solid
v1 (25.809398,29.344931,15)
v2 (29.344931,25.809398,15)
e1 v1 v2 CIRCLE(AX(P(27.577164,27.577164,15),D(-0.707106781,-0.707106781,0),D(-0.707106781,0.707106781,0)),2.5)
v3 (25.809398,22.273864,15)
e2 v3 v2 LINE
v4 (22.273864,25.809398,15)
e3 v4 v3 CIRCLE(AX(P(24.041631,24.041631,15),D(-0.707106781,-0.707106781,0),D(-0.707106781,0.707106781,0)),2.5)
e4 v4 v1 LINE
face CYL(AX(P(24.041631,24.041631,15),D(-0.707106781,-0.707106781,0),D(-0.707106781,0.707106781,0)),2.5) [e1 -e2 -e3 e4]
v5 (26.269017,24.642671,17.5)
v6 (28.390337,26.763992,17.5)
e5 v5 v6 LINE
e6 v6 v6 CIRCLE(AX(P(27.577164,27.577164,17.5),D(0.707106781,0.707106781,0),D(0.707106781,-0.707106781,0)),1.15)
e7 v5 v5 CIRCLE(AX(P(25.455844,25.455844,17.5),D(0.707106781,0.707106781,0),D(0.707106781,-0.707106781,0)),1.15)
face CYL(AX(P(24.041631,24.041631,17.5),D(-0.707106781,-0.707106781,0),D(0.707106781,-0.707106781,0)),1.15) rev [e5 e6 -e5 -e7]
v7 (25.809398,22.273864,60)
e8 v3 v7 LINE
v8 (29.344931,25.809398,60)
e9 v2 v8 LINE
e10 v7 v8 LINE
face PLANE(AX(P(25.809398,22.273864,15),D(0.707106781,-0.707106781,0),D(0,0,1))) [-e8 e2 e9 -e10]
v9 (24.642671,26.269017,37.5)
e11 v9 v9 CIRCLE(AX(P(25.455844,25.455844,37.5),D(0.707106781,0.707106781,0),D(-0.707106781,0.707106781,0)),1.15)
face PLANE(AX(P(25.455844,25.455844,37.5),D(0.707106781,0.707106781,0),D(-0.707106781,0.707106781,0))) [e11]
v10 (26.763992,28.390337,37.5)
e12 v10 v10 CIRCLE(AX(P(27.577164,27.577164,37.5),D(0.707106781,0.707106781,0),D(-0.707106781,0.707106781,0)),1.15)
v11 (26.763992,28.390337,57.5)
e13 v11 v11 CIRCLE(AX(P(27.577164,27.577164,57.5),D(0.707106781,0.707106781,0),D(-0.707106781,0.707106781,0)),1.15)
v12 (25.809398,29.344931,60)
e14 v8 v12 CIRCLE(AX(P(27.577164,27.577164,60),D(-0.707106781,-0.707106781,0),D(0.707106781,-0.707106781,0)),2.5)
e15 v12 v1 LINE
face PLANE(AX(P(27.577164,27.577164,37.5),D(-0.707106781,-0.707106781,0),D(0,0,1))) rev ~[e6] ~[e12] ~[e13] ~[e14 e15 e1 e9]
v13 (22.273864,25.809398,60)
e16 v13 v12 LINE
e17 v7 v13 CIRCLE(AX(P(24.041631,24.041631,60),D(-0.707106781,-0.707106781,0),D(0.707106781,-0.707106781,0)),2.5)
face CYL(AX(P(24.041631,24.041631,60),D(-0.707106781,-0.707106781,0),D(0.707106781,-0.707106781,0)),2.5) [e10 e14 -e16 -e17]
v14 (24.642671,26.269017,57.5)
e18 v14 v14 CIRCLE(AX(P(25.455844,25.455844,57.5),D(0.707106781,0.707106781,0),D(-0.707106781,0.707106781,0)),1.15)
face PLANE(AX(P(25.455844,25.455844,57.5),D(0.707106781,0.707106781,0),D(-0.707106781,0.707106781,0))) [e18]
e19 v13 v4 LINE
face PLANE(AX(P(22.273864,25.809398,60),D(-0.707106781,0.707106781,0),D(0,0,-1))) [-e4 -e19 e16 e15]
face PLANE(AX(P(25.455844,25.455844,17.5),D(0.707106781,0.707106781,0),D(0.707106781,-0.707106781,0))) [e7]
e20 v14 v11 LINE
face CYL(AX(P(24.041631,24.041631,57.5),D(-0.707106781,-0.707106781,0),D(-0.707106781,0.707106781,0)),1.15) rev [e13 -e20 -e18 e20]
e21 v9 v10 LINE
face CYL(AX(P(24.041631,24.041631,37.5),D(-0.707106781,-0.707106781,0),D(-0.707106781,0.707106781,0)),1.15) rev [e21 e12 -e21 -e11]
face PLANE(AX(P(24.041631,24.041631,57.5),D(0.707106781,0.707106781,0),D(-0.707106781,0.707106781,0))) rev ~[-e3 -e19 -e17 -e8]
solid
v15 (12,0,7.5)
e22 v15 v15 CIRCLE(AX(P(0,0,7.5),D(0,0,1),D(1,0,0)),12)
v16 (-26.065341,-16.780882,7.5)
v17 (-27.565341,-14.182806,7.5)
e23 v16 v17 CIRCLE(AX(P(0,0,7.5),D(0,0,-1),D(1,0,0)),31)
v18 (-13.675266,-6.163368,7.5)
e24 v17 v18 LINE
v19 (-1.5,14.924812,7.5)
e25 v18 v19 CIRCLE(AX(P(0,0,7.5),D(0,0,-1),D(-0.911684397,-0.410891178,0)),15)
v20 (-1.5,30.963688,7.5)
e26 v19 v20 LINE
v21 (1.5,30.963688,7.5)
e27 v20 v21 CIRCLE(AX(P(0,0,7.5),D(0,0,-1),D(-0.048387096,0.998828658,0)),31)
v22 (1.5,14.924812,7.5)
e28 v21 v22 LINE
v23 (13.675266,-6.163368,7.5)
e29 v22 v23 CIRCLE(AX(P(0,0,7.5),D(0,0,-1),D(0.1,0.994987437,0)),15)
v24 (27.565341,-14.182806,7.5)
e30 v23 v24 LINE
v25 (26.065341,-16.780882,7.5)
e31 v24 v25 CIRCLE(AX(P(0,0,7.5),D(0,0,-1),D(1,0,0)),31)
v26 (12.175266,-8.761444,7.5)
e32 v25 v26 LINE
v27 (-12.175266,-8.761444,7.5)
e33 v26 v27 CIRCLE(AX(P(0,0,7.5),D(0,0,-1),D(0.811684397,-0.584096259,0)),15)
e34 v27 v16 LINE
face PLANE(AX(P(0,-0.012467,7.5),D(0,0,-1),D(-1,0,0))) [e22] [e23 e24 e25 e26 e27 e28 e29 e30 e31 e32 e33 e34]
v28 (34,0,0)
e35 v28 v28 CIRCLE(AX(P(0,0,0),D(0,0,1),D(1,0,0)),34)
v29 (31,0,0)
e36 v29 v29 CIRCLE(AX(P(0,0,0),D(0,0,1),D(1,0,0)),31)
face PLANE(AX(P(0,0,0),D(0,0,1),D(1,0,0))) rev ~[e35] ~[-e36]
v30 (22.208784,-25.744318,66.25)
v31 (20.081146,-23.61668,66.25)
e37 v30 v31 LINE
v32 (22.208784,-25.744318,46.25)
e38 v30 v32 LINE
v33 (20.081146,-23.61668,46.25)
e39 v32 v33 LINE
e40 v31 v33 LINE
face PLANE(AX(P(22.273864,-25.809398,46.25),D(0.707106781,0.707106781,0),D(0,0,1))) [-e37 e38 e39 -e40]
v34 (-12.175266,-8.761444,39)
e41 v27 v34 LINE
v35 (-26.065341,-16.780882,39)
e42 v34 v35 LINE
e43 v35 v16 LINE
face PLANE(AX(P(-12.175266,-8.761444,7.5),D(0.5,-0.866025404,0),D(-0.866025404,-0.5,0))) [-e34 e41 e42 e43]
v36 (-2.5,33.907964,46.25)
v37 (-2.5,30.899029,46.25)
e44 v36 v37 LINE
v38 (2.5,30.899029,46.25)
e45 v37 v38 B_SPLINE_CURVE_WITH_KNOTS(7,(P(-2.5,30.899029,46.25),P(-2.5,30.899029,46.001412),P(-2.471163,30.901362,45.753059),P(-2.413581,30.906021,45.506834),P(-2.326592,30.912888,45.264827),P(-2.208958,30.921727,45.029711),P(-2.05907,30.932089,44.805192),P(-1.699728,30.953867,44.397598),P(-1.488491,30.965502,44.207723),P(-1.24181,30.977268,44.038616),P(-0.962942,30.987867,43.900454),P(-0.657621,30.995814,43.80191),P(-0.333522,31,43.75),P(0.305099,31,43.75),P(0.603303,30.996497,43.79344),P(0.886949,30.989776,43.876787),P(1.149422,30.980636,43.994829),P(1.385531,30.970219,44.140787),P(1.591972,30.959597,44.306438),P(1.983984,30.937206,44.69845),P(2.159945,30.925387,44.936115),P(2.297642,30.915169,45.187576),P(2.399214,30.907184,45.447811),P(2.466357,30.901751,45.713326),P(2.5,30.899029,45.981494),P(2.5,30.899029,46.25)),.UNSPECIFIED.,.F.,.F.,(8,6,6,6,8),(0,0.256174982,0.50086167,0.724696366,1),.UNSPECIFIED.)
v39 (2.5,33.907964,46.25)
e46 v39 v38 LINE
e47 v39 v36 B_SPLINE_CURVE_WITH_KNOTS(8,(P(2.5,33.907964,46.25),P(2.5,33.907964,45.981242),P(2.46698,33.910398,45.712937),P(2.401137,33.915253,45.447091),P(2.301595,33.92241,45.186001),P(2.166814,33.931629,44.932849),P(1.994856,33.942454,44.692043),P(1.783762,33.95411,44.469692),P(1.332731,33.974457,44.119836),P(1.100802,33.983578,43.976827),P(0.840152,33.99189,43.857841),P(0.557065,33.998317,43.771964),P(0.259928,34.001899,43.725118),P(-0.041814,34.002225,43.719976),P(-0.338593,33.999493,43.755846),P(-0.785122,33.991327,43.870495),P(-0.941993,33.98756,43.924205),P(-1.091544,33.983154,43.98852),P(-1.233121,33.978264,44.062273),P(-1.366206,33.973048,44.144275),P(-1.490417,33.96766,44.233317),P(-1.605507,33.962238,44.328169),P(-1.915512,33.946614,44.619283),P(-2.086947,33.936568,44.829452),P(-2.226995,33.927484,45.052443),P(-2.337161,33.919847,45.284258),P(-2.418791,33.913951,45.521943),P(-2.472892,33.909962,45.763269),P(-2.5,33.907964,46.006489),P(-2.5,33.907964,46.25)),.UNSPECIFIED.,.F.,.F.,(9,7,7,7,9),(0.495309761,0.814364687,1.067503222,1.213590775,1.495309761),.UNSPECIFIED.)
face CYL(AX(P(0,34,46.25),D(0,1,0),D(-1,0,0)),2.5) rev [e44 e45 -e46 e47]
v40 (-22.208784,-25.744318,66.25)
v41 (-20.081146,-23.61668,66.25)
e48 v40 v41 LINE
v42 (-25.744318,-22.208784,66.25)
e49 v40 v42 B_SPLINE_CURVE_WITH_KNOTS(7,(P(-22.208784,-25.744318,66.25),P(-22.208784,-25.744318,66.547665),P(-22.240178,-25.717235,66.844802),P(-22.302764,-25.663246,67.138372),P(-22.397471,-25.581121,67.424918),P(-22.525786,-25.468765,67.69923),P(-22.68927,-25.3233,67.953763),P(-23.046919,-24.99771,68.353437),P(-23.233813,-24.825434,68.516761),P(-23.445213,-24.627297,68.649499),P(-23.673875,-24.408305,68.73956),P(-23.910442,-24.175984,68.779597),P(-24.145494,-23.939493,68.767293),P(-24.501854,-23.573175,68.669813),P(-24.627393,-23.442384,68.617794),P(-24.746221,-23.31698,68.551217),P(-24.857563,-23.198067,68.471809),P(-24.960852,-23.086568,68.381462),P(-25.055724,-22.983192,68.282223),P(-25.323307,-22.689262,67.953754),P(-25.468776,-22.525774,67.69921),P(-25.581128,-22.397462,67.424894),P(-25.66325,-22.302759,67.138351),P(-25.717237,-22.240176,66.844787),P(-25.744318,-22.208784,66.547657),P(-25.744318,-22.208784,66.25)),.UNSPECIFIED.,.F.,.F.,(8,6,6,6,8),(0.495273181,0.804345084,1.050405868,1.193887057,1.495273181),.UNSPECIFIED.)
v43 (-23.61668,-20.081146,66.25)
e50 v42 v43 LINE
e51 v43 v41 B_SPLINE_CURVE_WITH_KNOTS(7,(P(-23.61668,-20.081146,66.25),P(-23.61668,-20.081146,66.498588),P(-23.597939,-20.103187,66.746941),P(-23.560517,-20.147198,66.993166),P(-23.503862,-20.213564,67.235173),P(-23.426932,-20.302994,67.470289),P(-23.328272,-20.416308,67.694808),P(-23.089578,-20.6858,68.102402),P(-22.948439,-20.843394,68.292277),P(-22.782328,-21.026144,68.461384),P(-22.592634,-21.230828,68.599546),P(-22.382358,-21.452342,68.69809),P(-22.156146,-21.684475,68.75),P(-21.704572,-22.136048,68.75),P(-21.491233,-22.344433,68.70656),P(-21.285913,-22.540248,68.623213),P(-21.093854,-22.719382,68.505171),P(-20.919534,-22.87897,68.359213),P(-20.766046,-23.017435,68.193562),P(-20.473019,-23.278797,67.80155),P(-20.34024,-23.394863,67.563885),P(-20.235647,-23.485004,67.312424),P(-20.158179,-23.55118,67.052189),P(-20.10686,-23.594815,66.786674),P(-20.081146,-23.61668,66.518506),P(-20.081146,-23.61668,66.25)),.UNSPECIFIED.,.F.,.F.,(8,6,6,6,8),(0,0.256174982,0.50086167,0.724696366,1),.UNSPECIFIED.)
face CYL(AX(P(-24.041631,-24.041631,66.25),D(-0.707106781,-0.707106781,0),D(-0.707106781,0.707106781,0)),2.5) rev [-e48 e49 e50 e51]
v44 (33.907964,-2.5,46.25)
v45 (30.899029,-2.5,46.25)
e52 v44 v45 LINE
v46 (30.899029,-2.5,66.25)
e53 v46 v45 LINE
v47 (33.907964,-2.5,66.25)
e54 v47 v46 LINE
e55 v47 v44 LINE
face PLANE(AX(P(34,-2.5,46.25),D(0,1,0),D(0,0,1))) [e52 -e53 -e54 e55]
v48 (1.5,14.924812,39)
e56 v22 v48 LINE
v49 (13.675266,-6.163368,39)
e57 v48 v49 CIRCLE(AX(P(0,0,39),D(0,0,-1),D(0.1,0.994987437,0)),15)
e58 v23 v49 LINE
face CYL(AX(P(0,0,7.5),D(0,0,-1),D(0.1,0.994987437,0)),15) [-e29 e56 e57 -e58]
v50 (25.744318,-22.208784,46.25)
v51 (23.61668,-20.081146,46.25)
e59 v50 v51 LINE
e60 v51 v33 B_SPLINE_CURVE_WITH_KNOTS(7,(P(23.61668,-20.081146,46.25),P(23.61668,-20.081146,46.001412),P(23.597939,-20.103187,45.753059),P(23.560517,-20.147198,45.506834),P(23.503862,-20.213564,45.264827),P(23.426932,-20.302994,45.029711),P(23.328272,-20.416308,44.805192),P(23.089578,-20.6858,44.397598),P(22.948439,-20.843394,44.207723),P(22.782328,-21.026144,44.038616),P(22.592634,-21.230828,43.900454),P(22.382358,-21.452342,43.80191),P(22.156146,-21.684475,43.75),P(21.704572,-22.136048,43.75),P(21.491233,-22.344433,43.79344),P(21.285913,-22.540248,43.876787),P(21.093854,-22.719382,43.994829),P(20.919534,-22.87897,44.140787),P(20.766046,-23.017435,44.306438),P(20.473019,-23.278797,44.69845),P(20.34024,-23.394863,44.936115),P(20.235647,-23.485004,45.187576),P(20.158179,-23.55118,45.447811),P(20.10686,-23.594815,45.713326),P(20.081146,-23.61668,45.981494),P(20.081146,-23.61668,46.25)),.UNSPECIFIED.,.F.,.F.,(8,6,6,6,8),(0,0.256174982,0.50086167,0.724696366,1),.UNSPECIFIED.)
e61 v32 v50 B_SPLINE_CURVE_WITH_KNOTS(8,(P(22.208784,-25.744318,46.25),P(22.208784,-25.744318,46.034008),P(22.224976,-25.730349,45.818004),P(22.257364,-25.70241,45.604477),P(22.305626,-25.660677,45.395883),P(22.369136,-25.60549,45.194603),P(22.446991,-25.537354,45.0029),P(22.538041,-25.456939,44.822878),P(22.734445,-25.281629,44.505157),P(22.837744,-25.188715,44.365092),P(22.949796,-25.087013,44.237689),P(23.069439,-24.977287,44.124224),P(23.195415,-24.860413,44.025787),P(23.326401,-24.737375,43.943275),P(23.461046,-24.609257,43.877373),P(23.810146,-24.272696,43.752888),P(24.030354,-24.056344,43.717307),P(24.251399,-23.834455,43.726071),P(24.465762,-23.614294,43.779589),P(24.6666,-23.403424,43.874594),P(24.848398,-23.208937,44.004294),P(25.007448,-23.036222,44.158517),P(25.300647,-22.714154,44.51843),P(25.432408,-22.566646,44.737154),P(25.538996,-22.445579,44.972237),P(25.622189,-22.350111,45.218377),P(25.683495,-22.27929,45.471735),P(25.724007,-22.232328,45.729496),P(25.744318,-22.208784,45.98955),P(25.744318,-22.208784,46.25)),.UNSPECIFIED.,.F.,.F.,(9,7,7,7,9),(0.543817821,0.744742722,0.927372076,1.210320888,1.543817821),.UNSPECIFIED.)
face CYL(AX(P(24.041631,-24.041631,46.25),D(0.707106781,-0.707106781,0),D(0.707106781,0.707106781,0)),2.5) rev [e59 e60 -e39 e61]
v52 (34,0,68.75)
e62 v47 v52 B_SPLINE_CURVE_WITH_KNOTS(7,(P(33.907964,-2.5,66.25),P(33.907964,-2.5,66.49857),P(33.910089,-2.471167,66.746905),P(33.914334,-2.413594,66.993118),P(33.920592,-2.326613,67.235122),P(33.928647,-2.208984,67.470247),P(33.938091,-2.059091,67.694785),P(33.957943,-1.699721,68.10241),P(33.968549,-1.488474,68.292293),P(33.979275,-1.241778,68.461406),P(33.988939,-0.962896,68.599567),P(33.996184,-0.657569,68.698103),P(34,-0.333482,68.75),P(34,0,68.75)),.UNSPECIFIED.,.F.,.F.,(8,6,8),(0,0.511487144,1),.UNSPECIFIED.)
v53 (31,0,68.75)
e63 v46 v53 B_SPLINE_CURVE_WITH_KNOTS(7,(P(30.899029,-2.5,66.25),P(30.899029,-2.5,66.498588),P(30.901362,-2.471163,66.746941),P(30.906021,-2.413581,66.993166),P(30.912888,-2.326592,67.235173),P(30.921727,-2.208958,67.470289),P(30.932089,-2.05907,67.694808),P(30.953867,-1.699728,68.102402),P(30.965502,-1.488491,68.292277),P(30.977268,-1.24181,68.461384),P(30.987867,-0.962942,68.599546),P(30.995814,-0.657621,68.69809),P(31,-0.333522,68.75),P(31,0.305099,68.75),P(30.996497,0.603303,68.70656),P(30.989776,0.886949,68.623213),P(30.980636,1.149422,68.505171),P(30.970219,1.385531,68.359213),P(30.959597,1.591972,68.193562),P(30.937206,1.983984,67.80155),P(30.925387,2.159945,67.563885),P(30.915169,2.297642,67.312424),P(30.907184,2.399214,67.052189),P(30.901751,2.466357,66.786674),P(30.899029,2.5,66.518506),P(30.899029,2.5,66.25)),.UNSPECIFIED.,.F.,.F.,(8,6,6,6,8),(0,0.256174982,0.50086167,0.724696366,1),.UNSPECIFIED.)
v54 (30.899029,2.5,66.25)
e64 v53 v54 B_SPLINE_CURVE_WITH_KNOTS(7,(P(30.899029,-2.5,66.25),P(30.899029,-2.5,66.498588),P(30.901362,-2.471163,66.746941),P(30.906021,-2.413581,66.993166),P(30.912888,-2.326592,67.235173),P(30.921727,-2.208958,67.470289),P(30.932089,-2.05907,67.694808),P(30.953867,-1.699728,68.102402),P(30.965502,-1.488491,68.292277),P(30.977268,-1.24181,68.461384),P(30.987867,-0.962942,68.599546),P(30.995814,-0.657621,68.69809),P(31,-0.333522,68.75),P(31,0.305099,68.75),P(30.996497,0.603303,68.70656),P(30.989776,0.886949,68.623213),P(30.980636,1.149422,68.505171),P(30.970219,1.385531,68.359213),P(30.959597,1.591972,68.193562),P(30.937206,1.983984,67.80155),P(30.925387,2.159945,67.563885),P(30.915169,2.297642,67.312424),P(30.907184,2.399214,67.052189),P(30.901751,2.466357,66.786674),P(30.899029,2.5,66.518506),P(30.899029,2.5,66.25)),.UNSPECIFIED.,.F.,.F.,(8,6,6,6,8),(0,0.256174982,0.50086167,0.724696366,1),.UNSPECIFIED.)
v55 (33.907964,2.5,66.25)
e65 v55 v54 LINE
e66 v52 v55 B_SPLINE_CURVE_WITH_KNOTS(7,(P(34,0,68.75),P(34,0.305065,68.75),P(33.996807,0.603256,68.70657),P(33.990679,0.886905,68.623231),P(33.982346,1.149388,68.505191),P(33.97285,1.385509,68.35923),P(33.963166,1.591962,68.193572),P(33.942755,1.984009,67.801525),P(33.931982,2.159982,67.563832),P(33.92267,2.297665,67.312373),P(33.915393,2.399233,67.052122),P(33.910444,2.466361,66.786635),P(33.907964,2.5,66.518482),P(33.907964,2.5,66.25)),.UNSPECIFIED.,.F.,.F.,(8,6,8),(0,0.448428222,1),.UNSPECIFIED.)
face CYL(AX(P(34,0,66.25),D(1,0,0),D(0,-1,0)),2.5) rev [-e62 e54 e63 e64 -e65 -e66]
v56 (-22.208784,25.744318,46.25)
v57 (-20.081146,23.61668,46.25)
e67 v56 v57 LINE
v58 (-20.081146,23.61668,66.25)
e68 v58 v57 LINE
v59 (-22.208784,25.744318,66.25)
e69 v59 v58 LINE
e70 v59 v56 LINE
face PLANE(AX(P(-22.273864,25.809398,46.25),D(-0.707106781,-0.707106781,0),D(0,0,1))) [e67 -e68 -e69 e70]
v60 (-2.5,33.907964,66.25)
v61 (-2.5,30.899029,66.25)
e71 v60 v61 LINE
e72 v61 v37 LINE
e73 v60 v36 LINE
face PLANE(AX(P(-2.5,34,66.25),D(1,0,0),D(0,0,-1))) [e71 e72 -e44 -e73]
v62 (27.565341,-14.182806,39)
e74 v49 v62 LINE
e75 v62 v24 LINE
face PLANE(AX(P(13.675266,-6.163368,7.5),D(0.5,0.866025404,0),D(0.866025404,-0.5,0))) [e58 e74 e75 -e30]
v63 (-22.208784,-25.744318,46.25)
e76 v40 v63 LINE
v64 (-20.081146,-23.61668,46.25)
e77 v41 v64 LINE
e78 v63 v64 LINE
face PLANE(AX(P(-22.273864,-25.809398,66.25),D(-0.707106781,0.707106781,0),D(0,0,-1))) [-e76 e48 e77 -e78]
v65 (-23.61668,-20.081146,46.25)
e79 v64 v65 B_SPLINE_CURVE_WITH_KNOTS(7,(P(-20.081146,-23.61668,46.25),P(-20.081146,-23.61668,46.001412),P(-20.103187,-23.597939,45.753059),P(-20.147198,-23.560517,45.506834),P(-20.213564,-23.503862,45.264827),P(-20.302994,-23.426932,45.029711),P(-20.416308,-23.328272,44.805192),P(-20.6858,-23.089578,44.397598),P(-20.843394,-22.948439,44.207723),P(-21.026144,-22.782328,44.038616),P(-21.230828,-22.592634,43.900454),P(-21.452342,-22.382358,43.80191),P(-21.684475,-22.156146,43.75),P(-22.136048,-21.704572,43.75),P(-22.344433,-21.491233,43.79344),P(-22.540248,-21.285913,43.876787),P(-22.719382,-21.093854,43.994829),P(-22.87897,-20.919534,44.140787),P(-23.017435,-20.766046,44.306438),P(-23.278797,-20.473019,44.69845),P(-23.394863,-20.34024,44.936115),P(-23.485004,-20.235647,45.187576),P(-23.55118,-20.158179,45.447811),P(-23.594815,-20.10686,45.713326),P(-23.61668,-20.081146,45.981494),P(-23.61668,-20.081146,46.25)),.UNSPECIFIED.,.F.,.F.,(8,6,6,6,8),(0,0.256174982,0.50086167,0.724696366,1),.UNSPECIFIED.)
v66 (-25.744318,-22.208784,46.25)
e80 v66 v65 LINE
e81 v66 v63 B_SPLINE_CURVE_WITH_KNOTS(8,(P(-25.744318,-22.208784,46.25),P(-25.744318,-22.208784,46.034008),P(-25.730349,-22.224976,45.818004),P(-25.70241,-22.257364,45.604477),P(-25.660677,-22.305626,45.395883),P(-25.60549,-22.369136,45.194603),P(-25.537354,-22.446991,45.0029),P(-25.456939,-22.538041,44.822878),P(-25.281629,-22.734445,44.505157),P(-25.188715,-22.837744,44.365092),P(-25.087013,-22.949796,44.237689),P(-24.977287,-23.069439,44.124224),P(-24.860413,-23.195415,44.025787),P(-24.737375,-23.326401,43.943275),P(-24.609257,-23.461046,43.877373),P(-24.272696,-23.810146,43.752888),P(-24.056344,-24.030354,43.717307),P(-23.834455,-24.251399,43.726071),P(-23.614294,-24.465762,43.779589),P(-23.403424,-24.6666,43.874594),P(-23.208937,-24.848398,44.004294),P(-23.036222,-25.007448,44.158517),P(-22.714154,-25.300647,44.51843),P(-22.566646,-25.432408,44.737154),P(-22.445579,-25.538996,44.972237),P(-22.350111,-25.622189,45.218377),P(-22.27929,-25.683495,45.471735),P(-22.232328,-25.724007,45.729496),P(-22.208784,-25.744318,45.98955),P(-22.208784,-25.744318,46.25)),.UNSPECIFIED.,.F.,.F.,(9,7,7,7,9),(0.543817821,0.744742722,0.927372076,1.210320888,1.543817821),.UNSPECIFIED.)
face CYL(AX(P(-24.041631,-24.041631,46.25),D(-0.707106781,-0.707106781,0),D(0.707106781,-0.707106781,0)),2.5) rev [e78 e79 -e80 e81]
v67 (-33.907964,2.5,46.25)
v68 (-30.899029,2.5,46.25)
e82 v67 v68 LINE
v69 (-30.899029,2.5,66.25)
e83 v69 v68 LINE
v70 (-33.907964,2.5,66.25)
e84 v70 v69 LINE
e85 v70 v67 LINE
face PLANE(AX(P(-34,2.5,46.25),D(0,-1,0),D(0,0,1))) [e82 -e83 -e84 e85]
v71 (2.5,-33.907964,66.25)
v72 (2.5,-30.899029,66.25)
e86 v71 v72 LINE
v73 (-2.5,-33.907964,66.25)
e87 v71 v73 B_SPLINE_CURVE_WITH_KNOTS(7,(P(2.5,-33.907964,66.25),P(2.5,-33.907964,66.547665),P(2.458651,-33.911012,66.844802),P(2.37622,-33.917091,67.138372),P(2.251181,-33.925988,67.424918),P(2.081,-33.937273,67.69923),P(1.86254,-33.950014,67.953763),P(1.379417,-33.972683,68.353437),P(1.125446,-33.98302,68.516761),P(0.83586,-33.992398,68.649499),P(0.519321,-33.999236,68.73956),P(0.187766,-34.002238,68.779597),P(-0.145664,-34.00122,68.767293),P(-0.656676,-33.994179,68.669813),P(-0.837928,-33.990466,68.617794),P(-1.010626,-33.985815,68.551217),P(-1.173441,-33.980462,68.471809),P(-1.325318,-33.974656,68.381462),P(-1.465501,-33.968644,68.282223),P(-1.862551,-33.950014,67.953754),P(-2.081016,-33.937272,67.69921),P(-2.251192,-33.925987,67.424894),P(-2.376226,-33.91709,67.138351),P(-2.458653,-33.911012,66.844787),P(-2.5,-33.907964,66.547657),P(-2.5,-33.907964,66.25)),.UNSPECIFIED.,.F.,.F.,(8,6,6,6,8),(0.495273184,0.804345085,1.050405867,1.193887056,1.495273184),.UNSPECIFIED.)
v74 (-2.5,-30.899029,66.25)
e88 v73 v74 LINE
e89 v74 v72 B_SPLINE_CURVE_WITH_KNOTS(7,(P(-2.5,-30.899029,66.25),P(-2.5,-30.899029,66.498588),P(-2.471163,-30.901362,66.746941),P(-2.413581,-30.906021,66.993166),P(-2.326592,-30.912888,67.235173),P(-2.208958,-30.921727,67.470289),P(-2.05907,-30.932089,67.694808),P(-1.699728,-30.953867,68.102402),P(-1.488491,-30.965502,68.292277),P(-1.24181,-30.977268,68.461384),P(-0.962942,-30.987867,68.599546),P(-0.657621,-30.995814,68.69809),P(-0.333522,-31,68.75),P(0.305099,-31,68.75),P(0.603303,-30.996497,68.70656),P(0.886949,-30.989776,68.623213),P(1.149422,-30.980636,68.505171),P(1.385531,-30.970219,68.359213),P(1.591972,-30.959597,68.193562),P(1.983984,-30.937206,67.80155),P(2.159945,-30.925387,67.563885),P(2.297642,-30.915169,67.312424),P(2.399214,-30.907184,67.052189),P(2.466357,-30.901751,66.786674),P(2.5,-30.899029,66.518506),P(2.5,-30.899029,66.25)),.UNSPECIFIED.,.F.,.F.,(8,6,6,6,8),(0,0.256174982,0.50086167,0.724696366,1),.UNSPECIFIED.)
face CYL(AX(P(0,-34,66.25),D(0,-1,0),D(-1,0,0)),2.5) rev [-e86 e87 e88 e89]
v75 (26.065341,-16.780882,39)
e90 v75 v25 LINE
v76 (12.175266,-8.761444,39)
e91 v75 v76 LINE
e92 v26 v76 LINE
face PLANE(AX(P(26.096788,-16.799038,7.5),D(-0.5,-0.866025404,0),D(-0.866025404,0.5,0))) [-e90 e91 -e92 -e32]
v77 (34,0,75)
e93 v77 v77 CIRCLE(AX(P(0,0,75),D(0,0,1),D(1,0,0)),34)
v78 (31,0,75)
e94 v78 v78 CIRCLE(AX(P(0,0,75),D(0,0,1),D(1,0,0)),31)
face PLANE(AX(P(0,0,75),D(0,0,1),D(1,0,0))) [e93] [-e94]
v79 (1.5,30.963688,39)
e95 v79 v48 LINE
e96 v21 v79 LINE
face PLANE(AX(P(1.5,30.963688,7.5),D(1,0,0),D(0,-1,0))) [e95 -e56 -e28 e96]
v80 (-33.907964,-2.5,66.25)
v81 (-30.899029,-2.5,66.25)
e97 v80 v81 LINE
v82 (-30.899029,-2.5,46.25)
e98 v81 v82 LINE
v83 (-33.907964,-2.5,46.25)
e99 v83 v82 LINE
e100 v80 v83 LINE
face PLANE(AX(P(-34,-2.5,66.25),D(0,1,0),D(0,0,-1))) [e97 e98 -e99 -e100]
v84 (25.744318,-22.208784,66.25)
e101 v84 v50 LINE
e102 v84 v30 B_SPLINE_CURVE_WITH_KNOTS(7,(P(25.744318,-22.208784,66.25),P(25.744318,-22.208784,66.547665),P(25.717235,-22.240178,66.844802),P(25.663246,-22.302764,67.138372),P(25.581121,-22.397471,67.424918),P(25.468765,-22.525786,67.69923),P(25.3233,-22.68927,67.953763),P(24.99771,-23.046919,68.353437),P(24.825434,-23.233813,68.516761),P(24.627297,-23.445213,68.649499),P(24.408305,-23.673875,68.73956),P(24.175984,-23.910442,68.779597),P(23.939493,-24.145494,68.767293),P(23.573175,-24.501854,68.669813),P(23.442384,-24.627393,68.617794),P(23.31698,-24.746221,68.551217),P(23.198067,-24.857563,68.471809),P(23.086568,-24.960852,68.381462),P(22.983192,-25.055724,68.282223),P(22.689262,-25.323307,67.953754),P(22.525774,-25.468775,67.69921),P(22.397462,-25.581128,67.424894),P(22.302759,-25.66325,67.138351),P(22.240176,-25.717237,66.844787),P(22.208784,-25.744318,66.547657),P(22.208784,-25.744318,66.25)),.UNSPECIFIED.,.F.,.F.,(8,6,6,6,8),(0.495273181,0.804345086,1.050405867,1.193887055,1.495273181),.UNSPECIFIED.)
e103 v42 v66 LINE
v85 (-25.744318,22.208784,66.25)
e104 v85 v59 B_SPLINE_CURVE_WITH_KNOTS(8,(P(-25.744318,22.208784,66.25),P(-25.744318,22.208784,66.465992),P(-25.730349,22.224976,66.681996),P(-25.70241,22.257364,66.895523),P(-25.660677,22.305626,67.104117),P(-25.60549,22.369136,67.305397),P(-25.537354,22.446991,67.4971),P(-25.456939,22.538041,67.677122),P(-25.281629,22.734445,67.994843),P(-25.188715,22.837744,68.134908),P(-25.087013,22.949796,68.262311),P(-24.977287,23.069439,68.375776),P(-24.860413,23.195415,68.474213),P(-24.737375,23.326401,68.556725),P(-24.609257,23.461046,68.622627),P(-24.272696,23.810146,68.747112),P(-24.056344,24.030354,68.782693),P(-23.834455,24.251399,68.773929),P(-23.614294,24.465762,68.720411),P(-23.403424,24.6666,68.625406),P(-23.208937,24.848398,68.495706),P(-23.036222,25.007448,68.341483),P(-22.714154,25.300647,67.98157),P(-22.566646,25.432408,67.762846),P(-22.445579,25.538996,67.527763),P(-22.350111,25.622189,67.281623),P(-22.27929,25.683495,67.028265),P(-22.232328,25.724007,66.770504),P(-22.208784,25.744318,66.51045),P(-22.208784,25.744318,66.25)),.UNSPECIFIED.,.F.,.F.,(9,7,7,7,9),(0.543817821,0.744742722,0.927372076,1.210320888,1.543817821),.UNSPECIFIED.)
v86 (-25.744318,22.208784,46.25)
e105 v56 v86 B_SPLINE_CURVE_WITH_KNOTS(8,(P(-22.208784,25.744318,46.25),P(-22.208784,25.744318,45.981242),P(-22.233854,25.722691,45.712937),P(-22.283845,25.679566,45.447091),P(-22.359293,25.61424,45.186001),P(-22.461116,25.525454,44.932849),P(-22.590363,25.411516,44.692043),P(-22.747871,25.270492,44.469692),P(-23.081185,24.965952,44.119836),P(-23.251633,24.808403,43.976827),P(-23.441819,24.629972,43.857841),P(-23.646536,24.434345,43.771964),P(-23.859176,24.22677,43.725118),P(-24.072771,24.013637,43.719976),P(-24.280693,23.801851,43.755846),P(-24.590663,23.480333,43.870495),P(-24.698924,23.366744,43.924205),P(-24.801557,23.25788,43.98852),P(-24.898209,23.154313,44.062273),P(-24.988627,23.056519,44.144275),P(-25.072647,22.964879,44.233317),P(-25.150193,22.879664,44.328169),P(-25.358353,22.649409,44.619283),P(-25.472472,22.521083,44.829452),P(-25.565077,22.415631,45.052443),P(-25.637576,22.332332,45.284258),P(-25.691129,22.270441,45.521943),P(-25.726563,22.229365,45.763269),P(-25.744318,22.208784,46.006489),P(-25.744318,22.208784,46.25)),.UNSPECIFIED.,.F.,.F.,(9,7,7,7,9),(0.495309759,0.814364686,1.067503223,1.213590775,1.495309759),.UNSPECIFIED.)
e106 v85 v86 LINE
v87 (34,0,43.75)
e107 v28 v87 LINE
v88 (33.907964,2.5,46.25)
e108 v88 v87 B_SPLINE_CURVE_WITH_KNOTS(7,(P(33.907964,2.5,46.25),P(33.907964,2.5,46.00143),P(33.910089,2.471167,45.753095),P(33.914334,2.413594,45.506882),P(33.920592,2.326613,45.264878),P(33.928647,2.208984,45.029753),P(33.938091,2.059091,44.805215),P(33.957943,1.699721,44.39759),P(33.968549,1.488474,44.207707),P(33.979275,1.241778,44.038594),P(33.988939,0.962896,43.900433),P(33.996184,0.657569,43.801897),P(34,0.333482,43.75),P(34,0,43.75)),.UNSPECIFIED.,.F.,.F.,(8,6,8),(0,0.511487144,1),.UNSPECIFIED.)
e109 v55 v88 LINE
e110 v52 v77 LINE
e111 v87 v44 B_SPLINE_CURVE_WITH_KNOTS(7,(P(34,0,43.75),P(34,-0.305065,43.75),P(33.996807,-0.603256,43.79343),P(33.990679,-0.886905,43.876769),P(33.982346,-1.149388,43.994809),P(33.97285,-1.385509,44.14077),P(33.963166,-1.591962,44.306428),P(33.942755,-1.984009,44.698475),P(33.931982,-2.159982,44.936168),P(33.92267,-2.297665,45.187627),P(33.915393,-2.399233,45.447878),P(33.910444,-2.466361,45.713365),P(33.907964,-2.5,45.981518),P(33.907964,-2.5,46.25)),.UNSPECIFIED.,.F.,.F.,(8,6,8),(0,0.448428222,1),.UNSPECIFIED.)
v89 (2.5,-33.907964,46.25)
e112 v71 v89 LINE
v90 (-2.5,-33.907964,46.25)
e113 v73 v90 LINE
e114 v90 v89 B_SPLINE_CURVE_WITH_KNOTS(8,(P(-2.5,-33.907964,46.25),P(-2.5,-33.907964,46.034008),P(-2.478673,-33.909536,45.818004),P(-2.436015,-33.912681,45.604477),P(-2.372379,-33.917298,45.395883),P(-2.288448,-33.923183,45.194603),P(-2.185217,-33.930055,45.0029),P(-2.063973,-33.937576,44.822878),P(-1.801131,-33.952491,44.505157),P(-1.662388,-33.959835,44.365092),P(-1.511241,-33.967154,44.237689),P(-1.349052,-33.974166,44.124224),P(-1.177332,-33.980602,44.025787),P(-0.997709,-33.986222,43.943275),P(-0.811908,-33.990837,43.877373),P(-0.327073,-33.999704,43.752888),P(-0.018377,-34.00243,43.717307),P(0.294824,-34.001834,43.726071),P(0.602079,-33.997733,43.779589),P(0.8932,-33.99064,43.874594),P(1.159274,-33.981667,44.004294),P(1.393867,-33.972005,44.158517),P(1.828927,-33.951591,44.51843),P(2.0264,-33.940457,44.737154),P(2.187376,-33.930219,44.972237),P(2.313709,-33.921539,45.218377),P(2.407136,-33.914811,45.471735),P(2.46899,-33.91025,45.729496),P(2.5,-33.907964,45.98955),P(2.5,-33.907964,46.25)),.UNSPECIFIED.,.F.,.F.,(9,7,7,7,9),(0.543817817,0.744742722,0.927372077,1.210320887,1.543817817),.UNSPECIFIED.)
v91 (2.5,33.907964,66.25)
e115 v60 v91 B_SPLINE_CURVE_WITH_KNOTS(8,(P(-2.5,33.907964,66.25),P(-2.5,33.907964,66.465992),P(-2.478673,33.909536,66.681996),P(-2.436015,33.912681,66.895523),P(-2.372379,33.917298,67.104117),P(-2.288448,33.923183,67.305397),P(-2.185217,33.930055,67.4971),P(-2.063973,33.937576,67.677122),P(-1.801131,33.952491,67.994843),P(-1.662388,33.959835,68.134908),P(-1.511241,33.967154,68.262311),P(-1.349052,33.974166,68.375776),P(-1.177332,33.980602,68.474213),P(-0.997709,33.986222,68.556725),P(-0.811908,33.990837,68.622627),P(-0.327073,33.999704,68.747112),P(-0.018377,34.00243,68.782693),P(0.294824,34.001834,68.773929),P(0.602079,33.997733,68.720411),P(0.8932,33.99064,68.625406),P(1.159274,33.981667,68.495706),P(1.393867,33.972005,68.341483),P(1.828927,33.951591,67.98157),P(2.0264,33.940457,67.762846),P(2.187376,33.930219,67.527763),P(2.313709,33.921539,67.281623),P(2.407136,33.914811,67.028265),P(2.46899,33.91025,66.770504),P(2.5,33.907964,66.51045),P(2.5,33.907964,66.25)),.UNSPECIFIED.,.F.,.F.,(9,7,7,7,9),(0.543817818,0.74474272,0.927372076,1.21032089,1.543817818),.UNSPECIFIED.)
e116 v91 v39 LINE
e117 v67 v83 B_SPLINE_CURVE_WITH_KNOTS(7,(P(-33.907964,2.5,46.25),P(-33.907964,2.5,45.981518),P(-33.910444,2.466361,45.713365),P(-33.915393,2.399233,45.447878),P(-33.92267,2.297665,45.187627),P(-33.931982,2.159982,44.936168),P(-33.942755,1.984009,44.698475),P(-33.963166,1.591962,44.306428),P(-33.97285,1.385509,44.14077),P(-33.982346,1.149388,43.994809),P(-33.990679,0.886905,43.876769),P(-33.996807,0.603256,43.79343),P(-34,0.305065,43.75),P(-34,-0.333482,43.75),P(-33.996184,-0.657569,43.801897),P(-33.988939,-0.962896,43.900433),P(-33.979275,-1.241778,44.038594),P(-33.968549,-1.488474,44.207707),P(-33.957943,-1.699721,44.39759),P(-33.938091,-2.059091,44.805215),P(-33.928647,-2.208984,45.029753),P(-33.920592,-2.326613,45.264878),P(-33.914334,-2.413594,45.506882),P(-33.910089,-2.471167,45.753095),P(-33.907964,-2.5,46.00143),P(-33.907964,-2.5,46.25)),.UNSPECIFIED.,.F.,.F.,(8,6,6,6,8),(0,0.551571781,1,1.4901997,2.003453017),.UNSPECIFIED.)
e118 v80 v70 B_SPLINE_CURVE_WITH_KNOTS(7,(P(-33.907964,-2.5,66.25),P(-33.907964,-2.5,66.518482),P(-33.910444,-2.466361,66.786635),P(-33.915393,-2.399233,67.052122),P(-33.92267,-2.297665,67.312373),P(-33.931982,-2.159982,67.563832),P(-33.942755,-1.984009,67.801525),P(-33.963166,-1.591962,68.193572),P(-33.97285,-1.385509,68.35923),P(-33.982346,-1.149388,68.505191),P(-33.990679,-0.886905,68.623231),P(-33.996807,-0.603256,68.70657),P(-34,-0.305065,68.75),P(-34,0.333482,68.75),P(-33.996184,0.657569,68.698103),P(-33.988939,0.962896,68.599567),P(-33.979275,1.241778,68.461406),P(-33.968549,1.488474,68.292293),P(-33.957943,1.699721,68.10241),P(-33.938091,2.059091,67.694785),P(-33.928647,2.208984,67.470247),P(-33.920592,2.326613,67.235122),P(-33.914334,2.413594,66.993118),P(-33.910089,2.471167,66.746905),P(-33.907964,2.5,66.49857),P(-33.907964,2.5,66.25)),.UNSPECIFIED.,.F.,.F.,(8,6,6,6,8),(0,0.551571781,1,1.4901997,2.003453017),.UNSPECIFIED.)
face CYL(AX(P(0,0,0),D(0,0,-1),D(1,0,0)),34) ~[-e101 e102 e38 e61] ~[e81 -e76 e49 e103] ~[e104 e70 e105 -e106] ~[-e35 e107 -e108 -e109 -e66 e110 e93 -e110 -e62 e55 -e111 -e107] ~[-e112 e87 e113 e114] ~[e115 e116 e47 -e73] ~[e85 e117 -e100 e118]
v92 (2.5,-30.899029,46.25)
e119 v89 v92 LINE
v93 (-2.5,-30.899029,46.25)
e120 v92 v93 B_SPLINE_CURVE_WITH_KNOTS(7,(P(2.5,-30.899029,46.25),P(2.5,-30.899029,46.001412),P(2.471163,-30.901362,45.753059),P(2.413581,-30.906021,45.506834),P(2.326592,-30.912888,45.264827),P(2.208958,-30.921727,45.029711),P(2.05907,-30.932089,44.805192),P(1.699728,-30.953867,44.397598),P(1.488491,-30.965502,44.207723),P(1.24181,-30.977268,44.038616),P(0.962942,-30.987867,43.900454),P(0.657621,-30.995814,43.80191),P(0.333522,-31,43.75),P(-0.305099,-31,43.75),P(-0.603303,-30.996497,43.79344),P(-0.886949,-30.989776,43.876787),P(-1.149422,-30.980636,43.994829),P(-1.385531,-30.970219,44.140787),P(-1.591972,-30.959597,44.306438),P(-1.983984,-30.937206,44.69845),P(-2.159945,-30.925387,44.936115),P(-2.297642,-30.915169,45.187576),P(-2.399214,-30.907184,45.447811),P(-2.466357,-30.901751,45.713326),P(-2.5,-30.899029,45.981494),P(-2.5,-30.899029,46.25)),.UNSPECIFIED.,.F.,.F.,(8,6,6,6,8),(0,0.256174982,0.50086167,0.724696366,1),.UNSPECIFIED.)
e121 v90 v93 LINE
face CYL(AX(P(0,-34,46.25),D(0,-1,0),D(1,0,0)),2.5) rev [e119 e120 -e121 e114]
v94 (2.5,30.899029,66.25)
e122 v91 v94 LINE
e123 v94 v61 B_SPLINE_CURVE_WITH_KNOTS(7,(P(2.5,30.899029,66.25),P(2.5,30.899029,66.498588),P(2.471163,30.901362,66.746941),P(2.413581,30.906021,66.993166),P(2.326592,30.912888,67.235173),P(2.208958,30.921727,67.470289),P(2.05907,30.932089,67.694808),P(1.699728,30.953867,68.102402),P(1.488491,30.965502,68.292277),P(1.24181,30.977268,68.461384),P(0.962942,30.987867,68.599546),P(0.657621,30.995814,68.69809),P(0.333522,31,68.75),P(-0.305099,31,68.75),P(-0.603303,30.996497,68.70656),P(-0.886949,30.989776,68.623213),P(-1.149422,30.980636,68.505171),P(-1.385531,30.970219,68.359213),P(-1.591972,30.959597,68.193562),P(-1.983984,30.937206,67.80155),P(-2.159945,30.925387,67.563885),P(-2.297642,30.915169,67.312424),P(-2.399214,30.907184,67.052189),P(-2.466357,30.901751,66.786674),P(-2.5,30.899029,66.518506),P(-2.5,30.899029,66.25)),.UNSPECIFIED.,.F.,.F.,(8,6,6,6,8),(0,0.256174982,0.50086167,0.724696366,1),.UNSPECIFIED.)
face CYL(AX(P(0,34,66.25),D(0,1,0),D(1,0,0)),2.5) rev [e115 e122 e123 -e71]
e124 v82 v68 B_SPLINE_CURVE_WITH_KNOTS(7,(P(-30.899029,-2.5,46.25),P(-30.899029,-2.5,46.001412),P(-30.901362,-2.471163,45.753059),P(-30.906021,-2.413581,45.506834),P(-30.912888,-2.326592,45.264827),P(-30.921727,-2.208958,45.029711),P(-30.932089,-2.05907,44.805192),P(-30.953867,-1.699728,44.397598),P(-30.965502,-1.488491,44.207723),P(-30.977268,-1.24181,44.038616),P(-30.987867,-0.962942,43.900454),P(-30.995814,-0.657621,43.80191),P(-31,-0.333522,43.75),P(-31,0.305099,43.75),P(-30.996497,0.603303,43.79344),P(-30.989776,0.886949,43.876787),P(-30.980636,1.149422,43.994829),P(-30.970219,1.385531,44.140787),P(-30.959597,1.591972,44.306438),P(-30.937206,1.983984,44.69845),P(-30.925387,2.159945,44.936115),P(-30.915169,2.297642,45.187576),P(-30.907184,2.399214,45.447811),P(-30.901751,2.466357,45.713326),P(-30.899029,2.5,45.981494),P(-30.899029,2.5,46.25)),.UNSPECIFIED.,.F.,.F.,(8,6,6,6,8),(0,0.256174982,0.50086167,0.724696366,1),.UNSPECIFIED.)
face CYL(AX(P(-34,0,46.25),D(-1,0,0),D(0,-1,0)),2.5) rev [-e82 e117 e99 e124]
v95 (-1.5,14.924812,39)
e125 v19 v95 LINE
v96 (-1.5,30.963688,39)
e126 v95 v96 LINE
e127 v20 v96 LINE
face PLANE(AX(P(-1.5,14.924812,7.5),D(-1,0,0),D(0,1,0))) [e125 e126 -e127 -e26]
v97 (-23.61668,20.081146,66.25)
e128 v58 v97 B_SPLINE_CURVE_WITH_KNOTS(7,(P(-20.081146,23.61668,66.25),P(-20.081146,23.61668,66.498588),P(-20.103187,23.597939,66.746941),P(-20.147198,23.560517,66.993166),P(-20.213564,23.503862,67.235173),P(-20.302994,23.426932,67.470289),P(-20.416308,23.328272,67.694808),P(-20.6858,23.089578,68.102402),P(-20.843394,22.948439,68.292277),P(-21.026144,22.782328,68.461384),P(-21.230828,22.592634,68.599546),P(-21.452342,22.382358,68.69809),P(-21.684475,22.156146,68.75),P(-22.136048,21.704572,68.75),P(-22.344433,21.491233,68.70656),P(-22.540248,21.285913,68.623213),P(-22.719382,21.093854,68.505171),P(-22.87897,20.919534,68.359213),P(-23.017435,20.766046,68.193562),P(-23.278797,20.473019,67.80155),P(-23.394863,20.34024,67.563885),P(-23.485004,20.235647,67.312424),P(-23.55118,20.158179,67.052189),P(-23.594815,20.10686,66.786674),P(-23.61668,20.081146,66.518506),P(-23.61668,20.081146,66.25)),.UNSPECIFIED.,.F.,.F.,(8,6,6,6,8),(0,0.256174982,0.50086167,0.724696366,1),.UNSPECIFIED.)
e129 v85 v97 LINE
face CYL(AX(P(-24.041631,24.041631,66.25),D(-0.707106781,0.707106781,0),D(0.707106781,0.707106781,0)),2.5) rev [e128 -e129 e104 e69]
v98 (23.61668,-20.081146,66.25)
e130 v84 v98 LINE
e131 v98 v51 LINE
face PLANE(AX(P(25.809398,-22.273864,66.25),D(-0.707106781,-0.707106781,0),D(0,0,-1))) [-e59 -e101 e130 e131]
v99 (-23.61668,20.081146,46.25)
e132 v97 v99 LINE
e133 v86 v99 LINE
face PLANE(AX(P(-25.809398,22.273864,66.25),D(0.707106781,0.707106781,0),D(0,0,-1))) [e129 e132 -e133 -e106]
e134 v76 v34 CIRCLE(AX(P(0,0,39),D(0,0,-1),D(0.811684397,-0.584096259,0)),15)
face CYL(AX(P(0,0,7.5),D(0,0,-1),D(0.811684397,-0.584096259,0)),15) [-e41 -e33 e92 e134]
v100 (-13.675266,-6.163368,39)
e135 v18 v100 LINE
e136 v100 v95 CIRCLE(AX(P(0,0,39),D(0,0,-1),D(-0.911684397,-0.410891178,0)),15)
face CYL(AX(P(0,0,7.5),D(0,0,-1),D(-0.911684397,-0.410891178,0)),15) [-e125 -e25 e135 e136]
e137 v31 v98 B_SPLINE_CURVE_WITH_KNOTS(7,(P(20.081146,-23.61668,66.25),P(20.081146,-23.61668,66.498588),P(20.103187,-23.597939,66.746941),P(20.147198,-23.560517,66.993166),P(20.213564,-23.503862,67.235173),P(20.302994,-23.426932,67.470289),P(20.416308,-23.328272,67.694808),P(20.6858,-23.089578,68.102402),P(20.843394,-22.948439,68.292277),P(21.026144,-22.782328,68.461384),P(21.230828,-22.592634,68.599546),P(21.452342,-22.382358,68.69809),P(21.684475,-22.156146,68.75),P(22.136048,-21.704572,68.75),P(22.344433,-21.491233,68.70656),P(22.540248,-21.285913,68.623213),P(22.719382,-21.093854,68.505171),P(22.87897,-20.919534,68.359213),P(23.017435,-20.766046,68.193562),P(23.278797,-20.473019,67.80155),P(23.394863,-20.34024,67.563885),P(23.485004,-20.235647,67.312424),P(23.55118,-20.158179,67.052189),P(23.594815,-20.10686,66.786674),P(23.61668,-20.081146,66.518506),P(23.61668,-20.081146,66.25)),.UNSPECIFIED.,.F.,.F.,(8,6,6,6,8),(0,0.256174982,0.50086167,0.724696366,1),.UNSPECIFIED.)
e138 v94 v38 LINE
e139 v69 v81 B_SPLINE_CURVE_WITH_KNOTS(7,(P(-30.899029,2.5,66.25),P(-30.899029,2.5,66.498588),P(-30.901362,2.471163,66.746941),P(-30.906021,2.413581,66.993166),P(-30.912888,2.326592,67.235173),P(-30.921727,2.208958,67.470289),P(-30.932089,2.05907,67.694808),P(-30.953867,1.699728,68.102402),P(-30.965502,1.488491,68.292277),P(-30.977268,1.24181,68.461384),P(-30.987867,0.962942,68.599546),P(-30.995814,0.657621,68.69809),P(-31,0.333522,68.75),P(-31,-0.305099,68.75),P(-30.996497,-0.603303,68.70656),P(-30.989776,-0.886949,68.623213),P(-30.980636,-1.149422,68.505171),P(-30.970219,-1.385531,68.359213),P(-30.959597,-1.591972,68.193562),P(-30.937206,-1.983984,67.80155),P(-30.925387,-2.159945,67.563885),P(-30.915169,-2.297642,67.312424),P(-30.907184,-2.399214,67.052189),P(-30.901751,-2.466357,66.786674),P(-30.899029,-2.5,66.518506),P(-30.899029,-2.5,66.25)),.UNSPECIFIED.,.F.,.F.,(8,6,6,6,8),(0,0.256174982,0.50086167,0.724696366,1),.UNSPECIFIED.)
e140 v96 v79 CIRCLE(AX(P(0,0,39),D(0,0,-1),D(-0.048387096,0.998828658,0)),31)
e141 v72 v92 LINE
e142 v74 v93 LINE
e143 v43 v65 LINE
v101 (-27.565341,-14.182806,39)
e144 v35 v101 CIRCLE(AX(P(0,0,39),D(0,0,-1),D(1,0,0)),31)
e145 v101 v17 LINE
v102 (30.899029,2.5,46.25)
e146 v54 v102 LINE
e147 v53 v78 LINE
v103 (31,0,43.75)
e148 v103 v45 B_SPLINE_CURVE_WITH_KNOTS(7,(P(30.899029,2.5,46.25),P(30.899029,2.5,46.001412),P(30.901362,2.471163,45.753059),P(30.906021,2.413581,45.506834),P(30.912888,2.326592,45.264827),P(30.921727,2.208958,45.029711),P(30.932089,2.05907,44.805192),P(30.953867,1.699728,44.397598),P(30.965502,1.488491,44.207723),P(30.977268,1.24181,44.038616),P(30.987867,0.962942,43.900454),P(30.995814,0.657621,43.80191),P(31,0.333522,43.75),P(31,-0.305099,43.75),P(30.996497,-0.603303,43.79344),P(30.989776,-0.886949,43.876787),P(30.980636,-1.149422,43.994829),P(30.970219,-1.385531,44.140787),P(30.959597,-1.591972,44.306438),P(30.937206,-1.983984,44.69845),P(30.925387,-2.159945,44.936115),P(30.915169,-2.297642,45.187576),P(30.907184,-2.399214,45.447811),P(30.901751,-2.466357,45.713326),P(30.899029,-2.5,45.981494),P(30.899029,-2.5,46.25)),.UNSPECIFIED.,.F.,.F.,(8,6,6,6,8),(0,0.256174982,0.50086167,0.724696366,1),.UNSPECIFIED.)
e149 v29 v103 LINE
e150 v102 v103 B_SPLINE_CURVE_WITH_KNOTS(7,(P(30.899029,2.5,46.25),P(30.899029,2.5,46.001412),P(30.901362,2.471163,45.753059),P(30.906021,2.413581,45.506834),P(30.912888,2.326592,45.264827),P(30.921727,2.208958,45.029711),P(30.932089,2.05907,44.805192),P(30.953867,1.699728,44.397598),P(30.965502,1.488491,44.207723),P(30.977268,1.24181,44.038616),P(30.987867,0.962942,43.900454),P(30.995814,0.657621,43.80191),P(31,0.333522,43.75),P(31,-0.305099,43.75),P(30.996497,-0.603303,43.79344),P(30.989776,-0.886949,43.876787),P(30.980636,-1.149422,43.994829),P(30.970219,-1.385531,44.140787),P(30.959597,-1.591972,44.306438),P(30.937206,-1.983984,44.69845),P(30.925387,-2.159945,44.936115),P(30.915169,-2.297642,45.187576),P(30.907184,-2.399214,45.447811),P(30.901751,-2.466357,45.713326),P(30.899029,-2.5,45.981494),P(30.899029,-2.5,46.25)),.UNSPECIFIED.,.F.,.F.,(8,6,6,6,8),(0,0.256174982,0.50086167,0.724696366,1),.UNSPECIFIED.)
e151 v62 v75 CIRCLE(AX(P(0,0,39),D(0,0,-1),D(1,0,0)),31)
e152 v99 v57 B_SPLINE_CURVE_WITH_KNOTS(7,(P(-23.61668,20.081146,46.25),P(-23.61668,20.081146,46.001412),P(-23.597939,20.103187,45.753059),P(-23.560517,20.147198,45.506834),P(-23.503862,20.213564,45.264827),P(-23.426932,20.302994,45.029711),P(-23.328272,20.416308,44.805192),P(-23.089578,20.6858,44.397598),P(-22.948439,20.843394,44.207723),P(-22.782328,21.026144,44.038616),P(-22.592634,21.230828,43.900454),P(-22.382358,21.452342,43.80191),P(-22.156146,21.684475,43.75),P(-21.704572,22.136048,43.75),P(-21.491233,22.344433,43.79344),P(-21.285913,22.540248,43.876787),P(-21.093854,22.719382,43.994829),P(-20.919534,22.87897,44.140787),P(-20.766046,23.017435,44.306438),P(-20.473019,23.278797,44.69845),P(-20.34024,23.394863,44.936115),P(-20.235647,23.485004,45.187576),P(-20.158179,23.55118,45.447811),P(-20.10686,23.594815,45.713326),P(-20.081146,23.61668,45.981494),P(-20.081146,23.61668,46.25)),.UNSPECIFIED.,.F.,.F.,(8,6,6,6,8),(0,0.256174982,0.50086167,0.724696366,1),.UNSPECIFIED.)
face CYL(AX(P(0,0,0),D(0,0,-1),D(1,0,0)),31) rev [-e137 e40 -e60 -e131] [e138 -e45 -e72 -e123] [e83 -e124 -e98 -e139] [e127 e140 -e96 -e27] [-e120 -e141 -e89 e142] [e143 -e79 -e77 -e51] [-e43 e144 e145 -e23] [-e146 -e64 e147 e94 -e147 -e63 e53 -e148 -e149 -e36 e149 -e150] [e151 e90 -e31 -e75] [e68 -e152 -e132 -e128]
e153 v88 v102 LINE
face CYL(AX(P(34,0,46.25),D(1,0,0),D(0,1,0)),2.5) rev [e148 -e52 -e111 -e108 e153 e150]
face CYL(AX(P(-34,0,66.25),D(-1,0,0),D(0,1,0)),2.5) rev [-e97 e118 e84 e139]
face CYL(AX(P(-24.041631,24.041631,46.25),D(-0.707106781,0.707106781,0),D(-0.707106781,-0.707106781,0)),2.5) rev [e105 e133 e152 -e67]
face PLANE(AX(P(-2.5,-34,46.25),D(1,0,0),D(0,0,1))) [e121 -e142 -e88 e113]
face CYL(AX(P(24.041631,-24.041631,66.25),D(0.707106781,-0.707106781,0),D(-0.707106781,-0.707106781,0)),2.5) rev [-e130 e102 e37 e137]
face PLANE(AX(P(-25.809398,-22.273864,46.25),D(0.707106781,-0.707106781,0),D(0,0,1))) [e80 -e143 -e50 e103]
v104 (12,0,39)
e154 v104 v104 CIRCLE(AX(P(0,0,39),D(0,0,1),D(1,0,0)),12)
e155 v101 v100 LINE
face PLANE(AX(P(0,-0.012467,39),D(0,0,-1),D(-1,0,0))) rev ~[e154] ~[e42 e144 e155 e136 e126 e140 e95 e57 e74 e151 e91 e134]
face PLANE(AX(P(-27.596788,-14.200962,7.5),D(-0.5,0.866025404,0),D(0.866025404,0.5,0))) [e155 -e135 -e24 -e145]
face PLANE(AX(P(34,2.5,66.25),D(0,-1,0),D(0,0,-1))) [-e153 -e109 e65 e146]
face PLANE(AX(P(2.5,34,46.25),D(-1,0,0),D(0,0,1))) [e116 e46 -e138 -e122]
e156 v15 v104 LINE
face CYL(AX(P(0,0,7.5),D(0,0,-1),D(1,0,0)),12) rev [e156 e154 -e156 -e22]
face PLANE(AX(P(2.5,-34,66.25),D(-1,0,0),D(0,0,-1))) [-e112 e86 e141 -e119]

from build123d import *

# Parameters (mm, degrees)
SKETCH2_R                = 34
SKETCH2_R_2              = 31
BOSS_EXTRUDE1_DEPTH      = 75
BOSS_EXTRUDE2_DEPTH      = 1.5
BOSS_EXTRUDE2_DEPTH_BACK = 30
SKETCH3_R                = 12
CUT_EXTRUDE2_REACH       = 108.794
CUT_EXTRUDE2_END_RADIUS  = 31
CIRPATTERN1_COUNT        = 7
CIRPATTERN1_ANGLE        = 270
SKETCH6_R                = 1.15
BOSS_EXTRUDE4_DEPTH      = 5
SKETCH7_R                = 1.15
BOSS_EXTRUDE5_DEPTH      = 2


with BuildPart() as part:
    # Sketch2 → Boss-Extrude1 (new body)
    with BuildSketch(Plane.XY):
        Circle(SKETCH2_R)
        Circle(SKETCH2_R_2, mode=Mode.SUBTRACT)
    extrude(amount=BOSS_EXTRUDE1_DEPTH)

    # Sketch3 → Boss-Extrude2 (add, two sides: drawn at the far end of the back side and taken through both)
    with BuildSketch(Plane.XY.offset(37.5).offset(-BOSS_EXTRUDE2_DEPTH_BACK)):
        with BuildLine():
            ThreePointArc((12.175265955, -8.761443884), (0, -15), (-12.175265955, -8.761443884))
            Line((-12.175265955, -8.761443884), (-26.096787517, -16.799038106))
            ThreePointArc((-26.096787517, -16.799038106), (-26.878197484, -15.518134553), (-27.596787517, -14.200961894))
            Line((-27.596787517, -14.200961894), (-13.675265955, -6.163367673))
            ThreePointArc((-13.675265955, -6.163367673), (-12.990381057, 7.5), (-1.5, 14.924811557))
            Line((-1.5, 14.924811557), (-1.5, 30.963688411))
            ThreePointArc((-1.5, 30.963688411), (0, 31), (1.5, 30.963688411))
            Line((1.5, 30.963688411), (1.5, 14.924811557))
            ThreePointArc((1.5, 14.924811557), (12.990381057, 7.5), (13.675265955, -6.163367673))
            Line((13.675265955, -6.163367673), (27.596787517, -14.200961894))
            ThreePointArc((27.596787517, -14.200961894), (26.878197484, -15.518134553), (26.096787517, -16.799038106))
            Line((26.096787517, -16.799038106), (12.175265955, -8.761443884))
        make_face()
        Circle(SKETCH3_R, mode=Mode.SUBTRACT)
    extrude(amount=BOSS_EXTRUDE2_DEPTH + BOSS_EXTRUDE2_DEPTH_BACK)

    # Cut-Extrude2: up to this cylinder (the profile starts outside it)
    cut_extrude2_end = Plane(origin=(0, 0, 56.25), z_dir=(0, 0, -1)) * Cylinder(CUT_EXTRUDE2_END_RADIUS, 280.588, mode=Mode.PRIVATE)
    # Sketch5 → Cut-Extrude2 (cut, up to the surface)
    with BuildSketch(Plane(origin=(34, 0, 0), x_dir=(0, 0, -1), z_dir=(1, 0, 0)), mode=Mode.PRIVATE) as cut_extrude2_sk1:
        with BuildLine():
            Line((-66.25, 2.5), (-46.25, 2.5))
            ThreePointArc((-46.25, 2.5), (-43.75, 0), (-46.25, -2.5))
            Line((-46.25, -2.5), (-66.25, -2.5))
            ThreePointArc((-66.25, -2.5), (-68.75, 0), (-66.25, 2.5))
        make_face()
    cut_extrude2_tool1 = extrude(cut_extrude2_sk1.sketch, amount=-CUT_EXTRUDE2_REACH, mode=Mode.PRIVATE) - cut_extrude2_end
    cut_extrude2 = cut_extrude2_tool1.solids().sort_by_distance((34, 0, 56.25))[0]
    add(cut_extrude2, mode=Mode.SUBTRACT)

    # CirPattern1: Cut-Extrude2 ×7 about axis
    cirpattern1_axis = Axis((0, 0, 0), (0, 0, -1))
    for i in range(1, CIRPATTERN1_COUNT):
        add(cut_extrude2.rotate(cirpattern1_axis, i * CIRPATTERN1_ANGLE / (CIRPATTERN1_COUNT - 1)), mode=Mode.SUBTRACT)


with BuildPart() as body_2:
    # Sketch6 → Boss-Extrude4 (new body)
    with BuildSketch(Plane(origin=(24.04163056, 24.04163056, 0), x_dir=(0, 0, -1), z_dir=(0.7071067811865488, 0.7071067811865464, 0))):
        with BuildLine():
            Line((-60, 2.5), (-15, 2.5))
            ThreePointArc((-15, 2.5), (-12.5, 0), (-15, -2.5))
            Line((-15, -2.5), (-60, -2.5))
            ThreePointArc((-60, -2.5), (-62.5, 0), (-60, 2.5))
        make_face()
        with Locations(Location((-37.5, 0, 0), (0, 0, 90))):
            Circle(SKETCH6_R, mode=Mode.SUBTRACT)
        with Locations(Location((-57.5, 0, 0), (0, 0, 90))):
            Circle(SKETCH6_R, mode=Mode.SUBTRACT)
        with Locations(Location((-17.5, 0, 0), (0, 0, 270))):
            Circle(SKETCH6_R, mode=Mode.SUBTRACT)
    extrude(amount=BOSS_EXTRUDE4_DEPTH)

    # Sketch7 → Boss-Extrude5 (add)
    with BuildSketch(Plane(origin=(24.04163056, 24.04163056, 0), x_dir=(0, 0, -1), z_dir=(0.7071067811865488, 0.7071067811865464, 0))):
        with Locations(Location((-57.5, 0, 0), (0, 0, 90))):
            Circle(SKETCH7_R)
        with Locations(Location((-37.5, 0, 0), (0, 0, 90))):
            Circle(SKETCH7_R)
        with Locations(Location((-17.5, 0, 0), (0, 0, 270))):
            Circle(SKETCH7_R)
    extrude(amount=BOSS_EXTRUDE5_DEPTH)


solid = Compound([part.part, body_2.part])
